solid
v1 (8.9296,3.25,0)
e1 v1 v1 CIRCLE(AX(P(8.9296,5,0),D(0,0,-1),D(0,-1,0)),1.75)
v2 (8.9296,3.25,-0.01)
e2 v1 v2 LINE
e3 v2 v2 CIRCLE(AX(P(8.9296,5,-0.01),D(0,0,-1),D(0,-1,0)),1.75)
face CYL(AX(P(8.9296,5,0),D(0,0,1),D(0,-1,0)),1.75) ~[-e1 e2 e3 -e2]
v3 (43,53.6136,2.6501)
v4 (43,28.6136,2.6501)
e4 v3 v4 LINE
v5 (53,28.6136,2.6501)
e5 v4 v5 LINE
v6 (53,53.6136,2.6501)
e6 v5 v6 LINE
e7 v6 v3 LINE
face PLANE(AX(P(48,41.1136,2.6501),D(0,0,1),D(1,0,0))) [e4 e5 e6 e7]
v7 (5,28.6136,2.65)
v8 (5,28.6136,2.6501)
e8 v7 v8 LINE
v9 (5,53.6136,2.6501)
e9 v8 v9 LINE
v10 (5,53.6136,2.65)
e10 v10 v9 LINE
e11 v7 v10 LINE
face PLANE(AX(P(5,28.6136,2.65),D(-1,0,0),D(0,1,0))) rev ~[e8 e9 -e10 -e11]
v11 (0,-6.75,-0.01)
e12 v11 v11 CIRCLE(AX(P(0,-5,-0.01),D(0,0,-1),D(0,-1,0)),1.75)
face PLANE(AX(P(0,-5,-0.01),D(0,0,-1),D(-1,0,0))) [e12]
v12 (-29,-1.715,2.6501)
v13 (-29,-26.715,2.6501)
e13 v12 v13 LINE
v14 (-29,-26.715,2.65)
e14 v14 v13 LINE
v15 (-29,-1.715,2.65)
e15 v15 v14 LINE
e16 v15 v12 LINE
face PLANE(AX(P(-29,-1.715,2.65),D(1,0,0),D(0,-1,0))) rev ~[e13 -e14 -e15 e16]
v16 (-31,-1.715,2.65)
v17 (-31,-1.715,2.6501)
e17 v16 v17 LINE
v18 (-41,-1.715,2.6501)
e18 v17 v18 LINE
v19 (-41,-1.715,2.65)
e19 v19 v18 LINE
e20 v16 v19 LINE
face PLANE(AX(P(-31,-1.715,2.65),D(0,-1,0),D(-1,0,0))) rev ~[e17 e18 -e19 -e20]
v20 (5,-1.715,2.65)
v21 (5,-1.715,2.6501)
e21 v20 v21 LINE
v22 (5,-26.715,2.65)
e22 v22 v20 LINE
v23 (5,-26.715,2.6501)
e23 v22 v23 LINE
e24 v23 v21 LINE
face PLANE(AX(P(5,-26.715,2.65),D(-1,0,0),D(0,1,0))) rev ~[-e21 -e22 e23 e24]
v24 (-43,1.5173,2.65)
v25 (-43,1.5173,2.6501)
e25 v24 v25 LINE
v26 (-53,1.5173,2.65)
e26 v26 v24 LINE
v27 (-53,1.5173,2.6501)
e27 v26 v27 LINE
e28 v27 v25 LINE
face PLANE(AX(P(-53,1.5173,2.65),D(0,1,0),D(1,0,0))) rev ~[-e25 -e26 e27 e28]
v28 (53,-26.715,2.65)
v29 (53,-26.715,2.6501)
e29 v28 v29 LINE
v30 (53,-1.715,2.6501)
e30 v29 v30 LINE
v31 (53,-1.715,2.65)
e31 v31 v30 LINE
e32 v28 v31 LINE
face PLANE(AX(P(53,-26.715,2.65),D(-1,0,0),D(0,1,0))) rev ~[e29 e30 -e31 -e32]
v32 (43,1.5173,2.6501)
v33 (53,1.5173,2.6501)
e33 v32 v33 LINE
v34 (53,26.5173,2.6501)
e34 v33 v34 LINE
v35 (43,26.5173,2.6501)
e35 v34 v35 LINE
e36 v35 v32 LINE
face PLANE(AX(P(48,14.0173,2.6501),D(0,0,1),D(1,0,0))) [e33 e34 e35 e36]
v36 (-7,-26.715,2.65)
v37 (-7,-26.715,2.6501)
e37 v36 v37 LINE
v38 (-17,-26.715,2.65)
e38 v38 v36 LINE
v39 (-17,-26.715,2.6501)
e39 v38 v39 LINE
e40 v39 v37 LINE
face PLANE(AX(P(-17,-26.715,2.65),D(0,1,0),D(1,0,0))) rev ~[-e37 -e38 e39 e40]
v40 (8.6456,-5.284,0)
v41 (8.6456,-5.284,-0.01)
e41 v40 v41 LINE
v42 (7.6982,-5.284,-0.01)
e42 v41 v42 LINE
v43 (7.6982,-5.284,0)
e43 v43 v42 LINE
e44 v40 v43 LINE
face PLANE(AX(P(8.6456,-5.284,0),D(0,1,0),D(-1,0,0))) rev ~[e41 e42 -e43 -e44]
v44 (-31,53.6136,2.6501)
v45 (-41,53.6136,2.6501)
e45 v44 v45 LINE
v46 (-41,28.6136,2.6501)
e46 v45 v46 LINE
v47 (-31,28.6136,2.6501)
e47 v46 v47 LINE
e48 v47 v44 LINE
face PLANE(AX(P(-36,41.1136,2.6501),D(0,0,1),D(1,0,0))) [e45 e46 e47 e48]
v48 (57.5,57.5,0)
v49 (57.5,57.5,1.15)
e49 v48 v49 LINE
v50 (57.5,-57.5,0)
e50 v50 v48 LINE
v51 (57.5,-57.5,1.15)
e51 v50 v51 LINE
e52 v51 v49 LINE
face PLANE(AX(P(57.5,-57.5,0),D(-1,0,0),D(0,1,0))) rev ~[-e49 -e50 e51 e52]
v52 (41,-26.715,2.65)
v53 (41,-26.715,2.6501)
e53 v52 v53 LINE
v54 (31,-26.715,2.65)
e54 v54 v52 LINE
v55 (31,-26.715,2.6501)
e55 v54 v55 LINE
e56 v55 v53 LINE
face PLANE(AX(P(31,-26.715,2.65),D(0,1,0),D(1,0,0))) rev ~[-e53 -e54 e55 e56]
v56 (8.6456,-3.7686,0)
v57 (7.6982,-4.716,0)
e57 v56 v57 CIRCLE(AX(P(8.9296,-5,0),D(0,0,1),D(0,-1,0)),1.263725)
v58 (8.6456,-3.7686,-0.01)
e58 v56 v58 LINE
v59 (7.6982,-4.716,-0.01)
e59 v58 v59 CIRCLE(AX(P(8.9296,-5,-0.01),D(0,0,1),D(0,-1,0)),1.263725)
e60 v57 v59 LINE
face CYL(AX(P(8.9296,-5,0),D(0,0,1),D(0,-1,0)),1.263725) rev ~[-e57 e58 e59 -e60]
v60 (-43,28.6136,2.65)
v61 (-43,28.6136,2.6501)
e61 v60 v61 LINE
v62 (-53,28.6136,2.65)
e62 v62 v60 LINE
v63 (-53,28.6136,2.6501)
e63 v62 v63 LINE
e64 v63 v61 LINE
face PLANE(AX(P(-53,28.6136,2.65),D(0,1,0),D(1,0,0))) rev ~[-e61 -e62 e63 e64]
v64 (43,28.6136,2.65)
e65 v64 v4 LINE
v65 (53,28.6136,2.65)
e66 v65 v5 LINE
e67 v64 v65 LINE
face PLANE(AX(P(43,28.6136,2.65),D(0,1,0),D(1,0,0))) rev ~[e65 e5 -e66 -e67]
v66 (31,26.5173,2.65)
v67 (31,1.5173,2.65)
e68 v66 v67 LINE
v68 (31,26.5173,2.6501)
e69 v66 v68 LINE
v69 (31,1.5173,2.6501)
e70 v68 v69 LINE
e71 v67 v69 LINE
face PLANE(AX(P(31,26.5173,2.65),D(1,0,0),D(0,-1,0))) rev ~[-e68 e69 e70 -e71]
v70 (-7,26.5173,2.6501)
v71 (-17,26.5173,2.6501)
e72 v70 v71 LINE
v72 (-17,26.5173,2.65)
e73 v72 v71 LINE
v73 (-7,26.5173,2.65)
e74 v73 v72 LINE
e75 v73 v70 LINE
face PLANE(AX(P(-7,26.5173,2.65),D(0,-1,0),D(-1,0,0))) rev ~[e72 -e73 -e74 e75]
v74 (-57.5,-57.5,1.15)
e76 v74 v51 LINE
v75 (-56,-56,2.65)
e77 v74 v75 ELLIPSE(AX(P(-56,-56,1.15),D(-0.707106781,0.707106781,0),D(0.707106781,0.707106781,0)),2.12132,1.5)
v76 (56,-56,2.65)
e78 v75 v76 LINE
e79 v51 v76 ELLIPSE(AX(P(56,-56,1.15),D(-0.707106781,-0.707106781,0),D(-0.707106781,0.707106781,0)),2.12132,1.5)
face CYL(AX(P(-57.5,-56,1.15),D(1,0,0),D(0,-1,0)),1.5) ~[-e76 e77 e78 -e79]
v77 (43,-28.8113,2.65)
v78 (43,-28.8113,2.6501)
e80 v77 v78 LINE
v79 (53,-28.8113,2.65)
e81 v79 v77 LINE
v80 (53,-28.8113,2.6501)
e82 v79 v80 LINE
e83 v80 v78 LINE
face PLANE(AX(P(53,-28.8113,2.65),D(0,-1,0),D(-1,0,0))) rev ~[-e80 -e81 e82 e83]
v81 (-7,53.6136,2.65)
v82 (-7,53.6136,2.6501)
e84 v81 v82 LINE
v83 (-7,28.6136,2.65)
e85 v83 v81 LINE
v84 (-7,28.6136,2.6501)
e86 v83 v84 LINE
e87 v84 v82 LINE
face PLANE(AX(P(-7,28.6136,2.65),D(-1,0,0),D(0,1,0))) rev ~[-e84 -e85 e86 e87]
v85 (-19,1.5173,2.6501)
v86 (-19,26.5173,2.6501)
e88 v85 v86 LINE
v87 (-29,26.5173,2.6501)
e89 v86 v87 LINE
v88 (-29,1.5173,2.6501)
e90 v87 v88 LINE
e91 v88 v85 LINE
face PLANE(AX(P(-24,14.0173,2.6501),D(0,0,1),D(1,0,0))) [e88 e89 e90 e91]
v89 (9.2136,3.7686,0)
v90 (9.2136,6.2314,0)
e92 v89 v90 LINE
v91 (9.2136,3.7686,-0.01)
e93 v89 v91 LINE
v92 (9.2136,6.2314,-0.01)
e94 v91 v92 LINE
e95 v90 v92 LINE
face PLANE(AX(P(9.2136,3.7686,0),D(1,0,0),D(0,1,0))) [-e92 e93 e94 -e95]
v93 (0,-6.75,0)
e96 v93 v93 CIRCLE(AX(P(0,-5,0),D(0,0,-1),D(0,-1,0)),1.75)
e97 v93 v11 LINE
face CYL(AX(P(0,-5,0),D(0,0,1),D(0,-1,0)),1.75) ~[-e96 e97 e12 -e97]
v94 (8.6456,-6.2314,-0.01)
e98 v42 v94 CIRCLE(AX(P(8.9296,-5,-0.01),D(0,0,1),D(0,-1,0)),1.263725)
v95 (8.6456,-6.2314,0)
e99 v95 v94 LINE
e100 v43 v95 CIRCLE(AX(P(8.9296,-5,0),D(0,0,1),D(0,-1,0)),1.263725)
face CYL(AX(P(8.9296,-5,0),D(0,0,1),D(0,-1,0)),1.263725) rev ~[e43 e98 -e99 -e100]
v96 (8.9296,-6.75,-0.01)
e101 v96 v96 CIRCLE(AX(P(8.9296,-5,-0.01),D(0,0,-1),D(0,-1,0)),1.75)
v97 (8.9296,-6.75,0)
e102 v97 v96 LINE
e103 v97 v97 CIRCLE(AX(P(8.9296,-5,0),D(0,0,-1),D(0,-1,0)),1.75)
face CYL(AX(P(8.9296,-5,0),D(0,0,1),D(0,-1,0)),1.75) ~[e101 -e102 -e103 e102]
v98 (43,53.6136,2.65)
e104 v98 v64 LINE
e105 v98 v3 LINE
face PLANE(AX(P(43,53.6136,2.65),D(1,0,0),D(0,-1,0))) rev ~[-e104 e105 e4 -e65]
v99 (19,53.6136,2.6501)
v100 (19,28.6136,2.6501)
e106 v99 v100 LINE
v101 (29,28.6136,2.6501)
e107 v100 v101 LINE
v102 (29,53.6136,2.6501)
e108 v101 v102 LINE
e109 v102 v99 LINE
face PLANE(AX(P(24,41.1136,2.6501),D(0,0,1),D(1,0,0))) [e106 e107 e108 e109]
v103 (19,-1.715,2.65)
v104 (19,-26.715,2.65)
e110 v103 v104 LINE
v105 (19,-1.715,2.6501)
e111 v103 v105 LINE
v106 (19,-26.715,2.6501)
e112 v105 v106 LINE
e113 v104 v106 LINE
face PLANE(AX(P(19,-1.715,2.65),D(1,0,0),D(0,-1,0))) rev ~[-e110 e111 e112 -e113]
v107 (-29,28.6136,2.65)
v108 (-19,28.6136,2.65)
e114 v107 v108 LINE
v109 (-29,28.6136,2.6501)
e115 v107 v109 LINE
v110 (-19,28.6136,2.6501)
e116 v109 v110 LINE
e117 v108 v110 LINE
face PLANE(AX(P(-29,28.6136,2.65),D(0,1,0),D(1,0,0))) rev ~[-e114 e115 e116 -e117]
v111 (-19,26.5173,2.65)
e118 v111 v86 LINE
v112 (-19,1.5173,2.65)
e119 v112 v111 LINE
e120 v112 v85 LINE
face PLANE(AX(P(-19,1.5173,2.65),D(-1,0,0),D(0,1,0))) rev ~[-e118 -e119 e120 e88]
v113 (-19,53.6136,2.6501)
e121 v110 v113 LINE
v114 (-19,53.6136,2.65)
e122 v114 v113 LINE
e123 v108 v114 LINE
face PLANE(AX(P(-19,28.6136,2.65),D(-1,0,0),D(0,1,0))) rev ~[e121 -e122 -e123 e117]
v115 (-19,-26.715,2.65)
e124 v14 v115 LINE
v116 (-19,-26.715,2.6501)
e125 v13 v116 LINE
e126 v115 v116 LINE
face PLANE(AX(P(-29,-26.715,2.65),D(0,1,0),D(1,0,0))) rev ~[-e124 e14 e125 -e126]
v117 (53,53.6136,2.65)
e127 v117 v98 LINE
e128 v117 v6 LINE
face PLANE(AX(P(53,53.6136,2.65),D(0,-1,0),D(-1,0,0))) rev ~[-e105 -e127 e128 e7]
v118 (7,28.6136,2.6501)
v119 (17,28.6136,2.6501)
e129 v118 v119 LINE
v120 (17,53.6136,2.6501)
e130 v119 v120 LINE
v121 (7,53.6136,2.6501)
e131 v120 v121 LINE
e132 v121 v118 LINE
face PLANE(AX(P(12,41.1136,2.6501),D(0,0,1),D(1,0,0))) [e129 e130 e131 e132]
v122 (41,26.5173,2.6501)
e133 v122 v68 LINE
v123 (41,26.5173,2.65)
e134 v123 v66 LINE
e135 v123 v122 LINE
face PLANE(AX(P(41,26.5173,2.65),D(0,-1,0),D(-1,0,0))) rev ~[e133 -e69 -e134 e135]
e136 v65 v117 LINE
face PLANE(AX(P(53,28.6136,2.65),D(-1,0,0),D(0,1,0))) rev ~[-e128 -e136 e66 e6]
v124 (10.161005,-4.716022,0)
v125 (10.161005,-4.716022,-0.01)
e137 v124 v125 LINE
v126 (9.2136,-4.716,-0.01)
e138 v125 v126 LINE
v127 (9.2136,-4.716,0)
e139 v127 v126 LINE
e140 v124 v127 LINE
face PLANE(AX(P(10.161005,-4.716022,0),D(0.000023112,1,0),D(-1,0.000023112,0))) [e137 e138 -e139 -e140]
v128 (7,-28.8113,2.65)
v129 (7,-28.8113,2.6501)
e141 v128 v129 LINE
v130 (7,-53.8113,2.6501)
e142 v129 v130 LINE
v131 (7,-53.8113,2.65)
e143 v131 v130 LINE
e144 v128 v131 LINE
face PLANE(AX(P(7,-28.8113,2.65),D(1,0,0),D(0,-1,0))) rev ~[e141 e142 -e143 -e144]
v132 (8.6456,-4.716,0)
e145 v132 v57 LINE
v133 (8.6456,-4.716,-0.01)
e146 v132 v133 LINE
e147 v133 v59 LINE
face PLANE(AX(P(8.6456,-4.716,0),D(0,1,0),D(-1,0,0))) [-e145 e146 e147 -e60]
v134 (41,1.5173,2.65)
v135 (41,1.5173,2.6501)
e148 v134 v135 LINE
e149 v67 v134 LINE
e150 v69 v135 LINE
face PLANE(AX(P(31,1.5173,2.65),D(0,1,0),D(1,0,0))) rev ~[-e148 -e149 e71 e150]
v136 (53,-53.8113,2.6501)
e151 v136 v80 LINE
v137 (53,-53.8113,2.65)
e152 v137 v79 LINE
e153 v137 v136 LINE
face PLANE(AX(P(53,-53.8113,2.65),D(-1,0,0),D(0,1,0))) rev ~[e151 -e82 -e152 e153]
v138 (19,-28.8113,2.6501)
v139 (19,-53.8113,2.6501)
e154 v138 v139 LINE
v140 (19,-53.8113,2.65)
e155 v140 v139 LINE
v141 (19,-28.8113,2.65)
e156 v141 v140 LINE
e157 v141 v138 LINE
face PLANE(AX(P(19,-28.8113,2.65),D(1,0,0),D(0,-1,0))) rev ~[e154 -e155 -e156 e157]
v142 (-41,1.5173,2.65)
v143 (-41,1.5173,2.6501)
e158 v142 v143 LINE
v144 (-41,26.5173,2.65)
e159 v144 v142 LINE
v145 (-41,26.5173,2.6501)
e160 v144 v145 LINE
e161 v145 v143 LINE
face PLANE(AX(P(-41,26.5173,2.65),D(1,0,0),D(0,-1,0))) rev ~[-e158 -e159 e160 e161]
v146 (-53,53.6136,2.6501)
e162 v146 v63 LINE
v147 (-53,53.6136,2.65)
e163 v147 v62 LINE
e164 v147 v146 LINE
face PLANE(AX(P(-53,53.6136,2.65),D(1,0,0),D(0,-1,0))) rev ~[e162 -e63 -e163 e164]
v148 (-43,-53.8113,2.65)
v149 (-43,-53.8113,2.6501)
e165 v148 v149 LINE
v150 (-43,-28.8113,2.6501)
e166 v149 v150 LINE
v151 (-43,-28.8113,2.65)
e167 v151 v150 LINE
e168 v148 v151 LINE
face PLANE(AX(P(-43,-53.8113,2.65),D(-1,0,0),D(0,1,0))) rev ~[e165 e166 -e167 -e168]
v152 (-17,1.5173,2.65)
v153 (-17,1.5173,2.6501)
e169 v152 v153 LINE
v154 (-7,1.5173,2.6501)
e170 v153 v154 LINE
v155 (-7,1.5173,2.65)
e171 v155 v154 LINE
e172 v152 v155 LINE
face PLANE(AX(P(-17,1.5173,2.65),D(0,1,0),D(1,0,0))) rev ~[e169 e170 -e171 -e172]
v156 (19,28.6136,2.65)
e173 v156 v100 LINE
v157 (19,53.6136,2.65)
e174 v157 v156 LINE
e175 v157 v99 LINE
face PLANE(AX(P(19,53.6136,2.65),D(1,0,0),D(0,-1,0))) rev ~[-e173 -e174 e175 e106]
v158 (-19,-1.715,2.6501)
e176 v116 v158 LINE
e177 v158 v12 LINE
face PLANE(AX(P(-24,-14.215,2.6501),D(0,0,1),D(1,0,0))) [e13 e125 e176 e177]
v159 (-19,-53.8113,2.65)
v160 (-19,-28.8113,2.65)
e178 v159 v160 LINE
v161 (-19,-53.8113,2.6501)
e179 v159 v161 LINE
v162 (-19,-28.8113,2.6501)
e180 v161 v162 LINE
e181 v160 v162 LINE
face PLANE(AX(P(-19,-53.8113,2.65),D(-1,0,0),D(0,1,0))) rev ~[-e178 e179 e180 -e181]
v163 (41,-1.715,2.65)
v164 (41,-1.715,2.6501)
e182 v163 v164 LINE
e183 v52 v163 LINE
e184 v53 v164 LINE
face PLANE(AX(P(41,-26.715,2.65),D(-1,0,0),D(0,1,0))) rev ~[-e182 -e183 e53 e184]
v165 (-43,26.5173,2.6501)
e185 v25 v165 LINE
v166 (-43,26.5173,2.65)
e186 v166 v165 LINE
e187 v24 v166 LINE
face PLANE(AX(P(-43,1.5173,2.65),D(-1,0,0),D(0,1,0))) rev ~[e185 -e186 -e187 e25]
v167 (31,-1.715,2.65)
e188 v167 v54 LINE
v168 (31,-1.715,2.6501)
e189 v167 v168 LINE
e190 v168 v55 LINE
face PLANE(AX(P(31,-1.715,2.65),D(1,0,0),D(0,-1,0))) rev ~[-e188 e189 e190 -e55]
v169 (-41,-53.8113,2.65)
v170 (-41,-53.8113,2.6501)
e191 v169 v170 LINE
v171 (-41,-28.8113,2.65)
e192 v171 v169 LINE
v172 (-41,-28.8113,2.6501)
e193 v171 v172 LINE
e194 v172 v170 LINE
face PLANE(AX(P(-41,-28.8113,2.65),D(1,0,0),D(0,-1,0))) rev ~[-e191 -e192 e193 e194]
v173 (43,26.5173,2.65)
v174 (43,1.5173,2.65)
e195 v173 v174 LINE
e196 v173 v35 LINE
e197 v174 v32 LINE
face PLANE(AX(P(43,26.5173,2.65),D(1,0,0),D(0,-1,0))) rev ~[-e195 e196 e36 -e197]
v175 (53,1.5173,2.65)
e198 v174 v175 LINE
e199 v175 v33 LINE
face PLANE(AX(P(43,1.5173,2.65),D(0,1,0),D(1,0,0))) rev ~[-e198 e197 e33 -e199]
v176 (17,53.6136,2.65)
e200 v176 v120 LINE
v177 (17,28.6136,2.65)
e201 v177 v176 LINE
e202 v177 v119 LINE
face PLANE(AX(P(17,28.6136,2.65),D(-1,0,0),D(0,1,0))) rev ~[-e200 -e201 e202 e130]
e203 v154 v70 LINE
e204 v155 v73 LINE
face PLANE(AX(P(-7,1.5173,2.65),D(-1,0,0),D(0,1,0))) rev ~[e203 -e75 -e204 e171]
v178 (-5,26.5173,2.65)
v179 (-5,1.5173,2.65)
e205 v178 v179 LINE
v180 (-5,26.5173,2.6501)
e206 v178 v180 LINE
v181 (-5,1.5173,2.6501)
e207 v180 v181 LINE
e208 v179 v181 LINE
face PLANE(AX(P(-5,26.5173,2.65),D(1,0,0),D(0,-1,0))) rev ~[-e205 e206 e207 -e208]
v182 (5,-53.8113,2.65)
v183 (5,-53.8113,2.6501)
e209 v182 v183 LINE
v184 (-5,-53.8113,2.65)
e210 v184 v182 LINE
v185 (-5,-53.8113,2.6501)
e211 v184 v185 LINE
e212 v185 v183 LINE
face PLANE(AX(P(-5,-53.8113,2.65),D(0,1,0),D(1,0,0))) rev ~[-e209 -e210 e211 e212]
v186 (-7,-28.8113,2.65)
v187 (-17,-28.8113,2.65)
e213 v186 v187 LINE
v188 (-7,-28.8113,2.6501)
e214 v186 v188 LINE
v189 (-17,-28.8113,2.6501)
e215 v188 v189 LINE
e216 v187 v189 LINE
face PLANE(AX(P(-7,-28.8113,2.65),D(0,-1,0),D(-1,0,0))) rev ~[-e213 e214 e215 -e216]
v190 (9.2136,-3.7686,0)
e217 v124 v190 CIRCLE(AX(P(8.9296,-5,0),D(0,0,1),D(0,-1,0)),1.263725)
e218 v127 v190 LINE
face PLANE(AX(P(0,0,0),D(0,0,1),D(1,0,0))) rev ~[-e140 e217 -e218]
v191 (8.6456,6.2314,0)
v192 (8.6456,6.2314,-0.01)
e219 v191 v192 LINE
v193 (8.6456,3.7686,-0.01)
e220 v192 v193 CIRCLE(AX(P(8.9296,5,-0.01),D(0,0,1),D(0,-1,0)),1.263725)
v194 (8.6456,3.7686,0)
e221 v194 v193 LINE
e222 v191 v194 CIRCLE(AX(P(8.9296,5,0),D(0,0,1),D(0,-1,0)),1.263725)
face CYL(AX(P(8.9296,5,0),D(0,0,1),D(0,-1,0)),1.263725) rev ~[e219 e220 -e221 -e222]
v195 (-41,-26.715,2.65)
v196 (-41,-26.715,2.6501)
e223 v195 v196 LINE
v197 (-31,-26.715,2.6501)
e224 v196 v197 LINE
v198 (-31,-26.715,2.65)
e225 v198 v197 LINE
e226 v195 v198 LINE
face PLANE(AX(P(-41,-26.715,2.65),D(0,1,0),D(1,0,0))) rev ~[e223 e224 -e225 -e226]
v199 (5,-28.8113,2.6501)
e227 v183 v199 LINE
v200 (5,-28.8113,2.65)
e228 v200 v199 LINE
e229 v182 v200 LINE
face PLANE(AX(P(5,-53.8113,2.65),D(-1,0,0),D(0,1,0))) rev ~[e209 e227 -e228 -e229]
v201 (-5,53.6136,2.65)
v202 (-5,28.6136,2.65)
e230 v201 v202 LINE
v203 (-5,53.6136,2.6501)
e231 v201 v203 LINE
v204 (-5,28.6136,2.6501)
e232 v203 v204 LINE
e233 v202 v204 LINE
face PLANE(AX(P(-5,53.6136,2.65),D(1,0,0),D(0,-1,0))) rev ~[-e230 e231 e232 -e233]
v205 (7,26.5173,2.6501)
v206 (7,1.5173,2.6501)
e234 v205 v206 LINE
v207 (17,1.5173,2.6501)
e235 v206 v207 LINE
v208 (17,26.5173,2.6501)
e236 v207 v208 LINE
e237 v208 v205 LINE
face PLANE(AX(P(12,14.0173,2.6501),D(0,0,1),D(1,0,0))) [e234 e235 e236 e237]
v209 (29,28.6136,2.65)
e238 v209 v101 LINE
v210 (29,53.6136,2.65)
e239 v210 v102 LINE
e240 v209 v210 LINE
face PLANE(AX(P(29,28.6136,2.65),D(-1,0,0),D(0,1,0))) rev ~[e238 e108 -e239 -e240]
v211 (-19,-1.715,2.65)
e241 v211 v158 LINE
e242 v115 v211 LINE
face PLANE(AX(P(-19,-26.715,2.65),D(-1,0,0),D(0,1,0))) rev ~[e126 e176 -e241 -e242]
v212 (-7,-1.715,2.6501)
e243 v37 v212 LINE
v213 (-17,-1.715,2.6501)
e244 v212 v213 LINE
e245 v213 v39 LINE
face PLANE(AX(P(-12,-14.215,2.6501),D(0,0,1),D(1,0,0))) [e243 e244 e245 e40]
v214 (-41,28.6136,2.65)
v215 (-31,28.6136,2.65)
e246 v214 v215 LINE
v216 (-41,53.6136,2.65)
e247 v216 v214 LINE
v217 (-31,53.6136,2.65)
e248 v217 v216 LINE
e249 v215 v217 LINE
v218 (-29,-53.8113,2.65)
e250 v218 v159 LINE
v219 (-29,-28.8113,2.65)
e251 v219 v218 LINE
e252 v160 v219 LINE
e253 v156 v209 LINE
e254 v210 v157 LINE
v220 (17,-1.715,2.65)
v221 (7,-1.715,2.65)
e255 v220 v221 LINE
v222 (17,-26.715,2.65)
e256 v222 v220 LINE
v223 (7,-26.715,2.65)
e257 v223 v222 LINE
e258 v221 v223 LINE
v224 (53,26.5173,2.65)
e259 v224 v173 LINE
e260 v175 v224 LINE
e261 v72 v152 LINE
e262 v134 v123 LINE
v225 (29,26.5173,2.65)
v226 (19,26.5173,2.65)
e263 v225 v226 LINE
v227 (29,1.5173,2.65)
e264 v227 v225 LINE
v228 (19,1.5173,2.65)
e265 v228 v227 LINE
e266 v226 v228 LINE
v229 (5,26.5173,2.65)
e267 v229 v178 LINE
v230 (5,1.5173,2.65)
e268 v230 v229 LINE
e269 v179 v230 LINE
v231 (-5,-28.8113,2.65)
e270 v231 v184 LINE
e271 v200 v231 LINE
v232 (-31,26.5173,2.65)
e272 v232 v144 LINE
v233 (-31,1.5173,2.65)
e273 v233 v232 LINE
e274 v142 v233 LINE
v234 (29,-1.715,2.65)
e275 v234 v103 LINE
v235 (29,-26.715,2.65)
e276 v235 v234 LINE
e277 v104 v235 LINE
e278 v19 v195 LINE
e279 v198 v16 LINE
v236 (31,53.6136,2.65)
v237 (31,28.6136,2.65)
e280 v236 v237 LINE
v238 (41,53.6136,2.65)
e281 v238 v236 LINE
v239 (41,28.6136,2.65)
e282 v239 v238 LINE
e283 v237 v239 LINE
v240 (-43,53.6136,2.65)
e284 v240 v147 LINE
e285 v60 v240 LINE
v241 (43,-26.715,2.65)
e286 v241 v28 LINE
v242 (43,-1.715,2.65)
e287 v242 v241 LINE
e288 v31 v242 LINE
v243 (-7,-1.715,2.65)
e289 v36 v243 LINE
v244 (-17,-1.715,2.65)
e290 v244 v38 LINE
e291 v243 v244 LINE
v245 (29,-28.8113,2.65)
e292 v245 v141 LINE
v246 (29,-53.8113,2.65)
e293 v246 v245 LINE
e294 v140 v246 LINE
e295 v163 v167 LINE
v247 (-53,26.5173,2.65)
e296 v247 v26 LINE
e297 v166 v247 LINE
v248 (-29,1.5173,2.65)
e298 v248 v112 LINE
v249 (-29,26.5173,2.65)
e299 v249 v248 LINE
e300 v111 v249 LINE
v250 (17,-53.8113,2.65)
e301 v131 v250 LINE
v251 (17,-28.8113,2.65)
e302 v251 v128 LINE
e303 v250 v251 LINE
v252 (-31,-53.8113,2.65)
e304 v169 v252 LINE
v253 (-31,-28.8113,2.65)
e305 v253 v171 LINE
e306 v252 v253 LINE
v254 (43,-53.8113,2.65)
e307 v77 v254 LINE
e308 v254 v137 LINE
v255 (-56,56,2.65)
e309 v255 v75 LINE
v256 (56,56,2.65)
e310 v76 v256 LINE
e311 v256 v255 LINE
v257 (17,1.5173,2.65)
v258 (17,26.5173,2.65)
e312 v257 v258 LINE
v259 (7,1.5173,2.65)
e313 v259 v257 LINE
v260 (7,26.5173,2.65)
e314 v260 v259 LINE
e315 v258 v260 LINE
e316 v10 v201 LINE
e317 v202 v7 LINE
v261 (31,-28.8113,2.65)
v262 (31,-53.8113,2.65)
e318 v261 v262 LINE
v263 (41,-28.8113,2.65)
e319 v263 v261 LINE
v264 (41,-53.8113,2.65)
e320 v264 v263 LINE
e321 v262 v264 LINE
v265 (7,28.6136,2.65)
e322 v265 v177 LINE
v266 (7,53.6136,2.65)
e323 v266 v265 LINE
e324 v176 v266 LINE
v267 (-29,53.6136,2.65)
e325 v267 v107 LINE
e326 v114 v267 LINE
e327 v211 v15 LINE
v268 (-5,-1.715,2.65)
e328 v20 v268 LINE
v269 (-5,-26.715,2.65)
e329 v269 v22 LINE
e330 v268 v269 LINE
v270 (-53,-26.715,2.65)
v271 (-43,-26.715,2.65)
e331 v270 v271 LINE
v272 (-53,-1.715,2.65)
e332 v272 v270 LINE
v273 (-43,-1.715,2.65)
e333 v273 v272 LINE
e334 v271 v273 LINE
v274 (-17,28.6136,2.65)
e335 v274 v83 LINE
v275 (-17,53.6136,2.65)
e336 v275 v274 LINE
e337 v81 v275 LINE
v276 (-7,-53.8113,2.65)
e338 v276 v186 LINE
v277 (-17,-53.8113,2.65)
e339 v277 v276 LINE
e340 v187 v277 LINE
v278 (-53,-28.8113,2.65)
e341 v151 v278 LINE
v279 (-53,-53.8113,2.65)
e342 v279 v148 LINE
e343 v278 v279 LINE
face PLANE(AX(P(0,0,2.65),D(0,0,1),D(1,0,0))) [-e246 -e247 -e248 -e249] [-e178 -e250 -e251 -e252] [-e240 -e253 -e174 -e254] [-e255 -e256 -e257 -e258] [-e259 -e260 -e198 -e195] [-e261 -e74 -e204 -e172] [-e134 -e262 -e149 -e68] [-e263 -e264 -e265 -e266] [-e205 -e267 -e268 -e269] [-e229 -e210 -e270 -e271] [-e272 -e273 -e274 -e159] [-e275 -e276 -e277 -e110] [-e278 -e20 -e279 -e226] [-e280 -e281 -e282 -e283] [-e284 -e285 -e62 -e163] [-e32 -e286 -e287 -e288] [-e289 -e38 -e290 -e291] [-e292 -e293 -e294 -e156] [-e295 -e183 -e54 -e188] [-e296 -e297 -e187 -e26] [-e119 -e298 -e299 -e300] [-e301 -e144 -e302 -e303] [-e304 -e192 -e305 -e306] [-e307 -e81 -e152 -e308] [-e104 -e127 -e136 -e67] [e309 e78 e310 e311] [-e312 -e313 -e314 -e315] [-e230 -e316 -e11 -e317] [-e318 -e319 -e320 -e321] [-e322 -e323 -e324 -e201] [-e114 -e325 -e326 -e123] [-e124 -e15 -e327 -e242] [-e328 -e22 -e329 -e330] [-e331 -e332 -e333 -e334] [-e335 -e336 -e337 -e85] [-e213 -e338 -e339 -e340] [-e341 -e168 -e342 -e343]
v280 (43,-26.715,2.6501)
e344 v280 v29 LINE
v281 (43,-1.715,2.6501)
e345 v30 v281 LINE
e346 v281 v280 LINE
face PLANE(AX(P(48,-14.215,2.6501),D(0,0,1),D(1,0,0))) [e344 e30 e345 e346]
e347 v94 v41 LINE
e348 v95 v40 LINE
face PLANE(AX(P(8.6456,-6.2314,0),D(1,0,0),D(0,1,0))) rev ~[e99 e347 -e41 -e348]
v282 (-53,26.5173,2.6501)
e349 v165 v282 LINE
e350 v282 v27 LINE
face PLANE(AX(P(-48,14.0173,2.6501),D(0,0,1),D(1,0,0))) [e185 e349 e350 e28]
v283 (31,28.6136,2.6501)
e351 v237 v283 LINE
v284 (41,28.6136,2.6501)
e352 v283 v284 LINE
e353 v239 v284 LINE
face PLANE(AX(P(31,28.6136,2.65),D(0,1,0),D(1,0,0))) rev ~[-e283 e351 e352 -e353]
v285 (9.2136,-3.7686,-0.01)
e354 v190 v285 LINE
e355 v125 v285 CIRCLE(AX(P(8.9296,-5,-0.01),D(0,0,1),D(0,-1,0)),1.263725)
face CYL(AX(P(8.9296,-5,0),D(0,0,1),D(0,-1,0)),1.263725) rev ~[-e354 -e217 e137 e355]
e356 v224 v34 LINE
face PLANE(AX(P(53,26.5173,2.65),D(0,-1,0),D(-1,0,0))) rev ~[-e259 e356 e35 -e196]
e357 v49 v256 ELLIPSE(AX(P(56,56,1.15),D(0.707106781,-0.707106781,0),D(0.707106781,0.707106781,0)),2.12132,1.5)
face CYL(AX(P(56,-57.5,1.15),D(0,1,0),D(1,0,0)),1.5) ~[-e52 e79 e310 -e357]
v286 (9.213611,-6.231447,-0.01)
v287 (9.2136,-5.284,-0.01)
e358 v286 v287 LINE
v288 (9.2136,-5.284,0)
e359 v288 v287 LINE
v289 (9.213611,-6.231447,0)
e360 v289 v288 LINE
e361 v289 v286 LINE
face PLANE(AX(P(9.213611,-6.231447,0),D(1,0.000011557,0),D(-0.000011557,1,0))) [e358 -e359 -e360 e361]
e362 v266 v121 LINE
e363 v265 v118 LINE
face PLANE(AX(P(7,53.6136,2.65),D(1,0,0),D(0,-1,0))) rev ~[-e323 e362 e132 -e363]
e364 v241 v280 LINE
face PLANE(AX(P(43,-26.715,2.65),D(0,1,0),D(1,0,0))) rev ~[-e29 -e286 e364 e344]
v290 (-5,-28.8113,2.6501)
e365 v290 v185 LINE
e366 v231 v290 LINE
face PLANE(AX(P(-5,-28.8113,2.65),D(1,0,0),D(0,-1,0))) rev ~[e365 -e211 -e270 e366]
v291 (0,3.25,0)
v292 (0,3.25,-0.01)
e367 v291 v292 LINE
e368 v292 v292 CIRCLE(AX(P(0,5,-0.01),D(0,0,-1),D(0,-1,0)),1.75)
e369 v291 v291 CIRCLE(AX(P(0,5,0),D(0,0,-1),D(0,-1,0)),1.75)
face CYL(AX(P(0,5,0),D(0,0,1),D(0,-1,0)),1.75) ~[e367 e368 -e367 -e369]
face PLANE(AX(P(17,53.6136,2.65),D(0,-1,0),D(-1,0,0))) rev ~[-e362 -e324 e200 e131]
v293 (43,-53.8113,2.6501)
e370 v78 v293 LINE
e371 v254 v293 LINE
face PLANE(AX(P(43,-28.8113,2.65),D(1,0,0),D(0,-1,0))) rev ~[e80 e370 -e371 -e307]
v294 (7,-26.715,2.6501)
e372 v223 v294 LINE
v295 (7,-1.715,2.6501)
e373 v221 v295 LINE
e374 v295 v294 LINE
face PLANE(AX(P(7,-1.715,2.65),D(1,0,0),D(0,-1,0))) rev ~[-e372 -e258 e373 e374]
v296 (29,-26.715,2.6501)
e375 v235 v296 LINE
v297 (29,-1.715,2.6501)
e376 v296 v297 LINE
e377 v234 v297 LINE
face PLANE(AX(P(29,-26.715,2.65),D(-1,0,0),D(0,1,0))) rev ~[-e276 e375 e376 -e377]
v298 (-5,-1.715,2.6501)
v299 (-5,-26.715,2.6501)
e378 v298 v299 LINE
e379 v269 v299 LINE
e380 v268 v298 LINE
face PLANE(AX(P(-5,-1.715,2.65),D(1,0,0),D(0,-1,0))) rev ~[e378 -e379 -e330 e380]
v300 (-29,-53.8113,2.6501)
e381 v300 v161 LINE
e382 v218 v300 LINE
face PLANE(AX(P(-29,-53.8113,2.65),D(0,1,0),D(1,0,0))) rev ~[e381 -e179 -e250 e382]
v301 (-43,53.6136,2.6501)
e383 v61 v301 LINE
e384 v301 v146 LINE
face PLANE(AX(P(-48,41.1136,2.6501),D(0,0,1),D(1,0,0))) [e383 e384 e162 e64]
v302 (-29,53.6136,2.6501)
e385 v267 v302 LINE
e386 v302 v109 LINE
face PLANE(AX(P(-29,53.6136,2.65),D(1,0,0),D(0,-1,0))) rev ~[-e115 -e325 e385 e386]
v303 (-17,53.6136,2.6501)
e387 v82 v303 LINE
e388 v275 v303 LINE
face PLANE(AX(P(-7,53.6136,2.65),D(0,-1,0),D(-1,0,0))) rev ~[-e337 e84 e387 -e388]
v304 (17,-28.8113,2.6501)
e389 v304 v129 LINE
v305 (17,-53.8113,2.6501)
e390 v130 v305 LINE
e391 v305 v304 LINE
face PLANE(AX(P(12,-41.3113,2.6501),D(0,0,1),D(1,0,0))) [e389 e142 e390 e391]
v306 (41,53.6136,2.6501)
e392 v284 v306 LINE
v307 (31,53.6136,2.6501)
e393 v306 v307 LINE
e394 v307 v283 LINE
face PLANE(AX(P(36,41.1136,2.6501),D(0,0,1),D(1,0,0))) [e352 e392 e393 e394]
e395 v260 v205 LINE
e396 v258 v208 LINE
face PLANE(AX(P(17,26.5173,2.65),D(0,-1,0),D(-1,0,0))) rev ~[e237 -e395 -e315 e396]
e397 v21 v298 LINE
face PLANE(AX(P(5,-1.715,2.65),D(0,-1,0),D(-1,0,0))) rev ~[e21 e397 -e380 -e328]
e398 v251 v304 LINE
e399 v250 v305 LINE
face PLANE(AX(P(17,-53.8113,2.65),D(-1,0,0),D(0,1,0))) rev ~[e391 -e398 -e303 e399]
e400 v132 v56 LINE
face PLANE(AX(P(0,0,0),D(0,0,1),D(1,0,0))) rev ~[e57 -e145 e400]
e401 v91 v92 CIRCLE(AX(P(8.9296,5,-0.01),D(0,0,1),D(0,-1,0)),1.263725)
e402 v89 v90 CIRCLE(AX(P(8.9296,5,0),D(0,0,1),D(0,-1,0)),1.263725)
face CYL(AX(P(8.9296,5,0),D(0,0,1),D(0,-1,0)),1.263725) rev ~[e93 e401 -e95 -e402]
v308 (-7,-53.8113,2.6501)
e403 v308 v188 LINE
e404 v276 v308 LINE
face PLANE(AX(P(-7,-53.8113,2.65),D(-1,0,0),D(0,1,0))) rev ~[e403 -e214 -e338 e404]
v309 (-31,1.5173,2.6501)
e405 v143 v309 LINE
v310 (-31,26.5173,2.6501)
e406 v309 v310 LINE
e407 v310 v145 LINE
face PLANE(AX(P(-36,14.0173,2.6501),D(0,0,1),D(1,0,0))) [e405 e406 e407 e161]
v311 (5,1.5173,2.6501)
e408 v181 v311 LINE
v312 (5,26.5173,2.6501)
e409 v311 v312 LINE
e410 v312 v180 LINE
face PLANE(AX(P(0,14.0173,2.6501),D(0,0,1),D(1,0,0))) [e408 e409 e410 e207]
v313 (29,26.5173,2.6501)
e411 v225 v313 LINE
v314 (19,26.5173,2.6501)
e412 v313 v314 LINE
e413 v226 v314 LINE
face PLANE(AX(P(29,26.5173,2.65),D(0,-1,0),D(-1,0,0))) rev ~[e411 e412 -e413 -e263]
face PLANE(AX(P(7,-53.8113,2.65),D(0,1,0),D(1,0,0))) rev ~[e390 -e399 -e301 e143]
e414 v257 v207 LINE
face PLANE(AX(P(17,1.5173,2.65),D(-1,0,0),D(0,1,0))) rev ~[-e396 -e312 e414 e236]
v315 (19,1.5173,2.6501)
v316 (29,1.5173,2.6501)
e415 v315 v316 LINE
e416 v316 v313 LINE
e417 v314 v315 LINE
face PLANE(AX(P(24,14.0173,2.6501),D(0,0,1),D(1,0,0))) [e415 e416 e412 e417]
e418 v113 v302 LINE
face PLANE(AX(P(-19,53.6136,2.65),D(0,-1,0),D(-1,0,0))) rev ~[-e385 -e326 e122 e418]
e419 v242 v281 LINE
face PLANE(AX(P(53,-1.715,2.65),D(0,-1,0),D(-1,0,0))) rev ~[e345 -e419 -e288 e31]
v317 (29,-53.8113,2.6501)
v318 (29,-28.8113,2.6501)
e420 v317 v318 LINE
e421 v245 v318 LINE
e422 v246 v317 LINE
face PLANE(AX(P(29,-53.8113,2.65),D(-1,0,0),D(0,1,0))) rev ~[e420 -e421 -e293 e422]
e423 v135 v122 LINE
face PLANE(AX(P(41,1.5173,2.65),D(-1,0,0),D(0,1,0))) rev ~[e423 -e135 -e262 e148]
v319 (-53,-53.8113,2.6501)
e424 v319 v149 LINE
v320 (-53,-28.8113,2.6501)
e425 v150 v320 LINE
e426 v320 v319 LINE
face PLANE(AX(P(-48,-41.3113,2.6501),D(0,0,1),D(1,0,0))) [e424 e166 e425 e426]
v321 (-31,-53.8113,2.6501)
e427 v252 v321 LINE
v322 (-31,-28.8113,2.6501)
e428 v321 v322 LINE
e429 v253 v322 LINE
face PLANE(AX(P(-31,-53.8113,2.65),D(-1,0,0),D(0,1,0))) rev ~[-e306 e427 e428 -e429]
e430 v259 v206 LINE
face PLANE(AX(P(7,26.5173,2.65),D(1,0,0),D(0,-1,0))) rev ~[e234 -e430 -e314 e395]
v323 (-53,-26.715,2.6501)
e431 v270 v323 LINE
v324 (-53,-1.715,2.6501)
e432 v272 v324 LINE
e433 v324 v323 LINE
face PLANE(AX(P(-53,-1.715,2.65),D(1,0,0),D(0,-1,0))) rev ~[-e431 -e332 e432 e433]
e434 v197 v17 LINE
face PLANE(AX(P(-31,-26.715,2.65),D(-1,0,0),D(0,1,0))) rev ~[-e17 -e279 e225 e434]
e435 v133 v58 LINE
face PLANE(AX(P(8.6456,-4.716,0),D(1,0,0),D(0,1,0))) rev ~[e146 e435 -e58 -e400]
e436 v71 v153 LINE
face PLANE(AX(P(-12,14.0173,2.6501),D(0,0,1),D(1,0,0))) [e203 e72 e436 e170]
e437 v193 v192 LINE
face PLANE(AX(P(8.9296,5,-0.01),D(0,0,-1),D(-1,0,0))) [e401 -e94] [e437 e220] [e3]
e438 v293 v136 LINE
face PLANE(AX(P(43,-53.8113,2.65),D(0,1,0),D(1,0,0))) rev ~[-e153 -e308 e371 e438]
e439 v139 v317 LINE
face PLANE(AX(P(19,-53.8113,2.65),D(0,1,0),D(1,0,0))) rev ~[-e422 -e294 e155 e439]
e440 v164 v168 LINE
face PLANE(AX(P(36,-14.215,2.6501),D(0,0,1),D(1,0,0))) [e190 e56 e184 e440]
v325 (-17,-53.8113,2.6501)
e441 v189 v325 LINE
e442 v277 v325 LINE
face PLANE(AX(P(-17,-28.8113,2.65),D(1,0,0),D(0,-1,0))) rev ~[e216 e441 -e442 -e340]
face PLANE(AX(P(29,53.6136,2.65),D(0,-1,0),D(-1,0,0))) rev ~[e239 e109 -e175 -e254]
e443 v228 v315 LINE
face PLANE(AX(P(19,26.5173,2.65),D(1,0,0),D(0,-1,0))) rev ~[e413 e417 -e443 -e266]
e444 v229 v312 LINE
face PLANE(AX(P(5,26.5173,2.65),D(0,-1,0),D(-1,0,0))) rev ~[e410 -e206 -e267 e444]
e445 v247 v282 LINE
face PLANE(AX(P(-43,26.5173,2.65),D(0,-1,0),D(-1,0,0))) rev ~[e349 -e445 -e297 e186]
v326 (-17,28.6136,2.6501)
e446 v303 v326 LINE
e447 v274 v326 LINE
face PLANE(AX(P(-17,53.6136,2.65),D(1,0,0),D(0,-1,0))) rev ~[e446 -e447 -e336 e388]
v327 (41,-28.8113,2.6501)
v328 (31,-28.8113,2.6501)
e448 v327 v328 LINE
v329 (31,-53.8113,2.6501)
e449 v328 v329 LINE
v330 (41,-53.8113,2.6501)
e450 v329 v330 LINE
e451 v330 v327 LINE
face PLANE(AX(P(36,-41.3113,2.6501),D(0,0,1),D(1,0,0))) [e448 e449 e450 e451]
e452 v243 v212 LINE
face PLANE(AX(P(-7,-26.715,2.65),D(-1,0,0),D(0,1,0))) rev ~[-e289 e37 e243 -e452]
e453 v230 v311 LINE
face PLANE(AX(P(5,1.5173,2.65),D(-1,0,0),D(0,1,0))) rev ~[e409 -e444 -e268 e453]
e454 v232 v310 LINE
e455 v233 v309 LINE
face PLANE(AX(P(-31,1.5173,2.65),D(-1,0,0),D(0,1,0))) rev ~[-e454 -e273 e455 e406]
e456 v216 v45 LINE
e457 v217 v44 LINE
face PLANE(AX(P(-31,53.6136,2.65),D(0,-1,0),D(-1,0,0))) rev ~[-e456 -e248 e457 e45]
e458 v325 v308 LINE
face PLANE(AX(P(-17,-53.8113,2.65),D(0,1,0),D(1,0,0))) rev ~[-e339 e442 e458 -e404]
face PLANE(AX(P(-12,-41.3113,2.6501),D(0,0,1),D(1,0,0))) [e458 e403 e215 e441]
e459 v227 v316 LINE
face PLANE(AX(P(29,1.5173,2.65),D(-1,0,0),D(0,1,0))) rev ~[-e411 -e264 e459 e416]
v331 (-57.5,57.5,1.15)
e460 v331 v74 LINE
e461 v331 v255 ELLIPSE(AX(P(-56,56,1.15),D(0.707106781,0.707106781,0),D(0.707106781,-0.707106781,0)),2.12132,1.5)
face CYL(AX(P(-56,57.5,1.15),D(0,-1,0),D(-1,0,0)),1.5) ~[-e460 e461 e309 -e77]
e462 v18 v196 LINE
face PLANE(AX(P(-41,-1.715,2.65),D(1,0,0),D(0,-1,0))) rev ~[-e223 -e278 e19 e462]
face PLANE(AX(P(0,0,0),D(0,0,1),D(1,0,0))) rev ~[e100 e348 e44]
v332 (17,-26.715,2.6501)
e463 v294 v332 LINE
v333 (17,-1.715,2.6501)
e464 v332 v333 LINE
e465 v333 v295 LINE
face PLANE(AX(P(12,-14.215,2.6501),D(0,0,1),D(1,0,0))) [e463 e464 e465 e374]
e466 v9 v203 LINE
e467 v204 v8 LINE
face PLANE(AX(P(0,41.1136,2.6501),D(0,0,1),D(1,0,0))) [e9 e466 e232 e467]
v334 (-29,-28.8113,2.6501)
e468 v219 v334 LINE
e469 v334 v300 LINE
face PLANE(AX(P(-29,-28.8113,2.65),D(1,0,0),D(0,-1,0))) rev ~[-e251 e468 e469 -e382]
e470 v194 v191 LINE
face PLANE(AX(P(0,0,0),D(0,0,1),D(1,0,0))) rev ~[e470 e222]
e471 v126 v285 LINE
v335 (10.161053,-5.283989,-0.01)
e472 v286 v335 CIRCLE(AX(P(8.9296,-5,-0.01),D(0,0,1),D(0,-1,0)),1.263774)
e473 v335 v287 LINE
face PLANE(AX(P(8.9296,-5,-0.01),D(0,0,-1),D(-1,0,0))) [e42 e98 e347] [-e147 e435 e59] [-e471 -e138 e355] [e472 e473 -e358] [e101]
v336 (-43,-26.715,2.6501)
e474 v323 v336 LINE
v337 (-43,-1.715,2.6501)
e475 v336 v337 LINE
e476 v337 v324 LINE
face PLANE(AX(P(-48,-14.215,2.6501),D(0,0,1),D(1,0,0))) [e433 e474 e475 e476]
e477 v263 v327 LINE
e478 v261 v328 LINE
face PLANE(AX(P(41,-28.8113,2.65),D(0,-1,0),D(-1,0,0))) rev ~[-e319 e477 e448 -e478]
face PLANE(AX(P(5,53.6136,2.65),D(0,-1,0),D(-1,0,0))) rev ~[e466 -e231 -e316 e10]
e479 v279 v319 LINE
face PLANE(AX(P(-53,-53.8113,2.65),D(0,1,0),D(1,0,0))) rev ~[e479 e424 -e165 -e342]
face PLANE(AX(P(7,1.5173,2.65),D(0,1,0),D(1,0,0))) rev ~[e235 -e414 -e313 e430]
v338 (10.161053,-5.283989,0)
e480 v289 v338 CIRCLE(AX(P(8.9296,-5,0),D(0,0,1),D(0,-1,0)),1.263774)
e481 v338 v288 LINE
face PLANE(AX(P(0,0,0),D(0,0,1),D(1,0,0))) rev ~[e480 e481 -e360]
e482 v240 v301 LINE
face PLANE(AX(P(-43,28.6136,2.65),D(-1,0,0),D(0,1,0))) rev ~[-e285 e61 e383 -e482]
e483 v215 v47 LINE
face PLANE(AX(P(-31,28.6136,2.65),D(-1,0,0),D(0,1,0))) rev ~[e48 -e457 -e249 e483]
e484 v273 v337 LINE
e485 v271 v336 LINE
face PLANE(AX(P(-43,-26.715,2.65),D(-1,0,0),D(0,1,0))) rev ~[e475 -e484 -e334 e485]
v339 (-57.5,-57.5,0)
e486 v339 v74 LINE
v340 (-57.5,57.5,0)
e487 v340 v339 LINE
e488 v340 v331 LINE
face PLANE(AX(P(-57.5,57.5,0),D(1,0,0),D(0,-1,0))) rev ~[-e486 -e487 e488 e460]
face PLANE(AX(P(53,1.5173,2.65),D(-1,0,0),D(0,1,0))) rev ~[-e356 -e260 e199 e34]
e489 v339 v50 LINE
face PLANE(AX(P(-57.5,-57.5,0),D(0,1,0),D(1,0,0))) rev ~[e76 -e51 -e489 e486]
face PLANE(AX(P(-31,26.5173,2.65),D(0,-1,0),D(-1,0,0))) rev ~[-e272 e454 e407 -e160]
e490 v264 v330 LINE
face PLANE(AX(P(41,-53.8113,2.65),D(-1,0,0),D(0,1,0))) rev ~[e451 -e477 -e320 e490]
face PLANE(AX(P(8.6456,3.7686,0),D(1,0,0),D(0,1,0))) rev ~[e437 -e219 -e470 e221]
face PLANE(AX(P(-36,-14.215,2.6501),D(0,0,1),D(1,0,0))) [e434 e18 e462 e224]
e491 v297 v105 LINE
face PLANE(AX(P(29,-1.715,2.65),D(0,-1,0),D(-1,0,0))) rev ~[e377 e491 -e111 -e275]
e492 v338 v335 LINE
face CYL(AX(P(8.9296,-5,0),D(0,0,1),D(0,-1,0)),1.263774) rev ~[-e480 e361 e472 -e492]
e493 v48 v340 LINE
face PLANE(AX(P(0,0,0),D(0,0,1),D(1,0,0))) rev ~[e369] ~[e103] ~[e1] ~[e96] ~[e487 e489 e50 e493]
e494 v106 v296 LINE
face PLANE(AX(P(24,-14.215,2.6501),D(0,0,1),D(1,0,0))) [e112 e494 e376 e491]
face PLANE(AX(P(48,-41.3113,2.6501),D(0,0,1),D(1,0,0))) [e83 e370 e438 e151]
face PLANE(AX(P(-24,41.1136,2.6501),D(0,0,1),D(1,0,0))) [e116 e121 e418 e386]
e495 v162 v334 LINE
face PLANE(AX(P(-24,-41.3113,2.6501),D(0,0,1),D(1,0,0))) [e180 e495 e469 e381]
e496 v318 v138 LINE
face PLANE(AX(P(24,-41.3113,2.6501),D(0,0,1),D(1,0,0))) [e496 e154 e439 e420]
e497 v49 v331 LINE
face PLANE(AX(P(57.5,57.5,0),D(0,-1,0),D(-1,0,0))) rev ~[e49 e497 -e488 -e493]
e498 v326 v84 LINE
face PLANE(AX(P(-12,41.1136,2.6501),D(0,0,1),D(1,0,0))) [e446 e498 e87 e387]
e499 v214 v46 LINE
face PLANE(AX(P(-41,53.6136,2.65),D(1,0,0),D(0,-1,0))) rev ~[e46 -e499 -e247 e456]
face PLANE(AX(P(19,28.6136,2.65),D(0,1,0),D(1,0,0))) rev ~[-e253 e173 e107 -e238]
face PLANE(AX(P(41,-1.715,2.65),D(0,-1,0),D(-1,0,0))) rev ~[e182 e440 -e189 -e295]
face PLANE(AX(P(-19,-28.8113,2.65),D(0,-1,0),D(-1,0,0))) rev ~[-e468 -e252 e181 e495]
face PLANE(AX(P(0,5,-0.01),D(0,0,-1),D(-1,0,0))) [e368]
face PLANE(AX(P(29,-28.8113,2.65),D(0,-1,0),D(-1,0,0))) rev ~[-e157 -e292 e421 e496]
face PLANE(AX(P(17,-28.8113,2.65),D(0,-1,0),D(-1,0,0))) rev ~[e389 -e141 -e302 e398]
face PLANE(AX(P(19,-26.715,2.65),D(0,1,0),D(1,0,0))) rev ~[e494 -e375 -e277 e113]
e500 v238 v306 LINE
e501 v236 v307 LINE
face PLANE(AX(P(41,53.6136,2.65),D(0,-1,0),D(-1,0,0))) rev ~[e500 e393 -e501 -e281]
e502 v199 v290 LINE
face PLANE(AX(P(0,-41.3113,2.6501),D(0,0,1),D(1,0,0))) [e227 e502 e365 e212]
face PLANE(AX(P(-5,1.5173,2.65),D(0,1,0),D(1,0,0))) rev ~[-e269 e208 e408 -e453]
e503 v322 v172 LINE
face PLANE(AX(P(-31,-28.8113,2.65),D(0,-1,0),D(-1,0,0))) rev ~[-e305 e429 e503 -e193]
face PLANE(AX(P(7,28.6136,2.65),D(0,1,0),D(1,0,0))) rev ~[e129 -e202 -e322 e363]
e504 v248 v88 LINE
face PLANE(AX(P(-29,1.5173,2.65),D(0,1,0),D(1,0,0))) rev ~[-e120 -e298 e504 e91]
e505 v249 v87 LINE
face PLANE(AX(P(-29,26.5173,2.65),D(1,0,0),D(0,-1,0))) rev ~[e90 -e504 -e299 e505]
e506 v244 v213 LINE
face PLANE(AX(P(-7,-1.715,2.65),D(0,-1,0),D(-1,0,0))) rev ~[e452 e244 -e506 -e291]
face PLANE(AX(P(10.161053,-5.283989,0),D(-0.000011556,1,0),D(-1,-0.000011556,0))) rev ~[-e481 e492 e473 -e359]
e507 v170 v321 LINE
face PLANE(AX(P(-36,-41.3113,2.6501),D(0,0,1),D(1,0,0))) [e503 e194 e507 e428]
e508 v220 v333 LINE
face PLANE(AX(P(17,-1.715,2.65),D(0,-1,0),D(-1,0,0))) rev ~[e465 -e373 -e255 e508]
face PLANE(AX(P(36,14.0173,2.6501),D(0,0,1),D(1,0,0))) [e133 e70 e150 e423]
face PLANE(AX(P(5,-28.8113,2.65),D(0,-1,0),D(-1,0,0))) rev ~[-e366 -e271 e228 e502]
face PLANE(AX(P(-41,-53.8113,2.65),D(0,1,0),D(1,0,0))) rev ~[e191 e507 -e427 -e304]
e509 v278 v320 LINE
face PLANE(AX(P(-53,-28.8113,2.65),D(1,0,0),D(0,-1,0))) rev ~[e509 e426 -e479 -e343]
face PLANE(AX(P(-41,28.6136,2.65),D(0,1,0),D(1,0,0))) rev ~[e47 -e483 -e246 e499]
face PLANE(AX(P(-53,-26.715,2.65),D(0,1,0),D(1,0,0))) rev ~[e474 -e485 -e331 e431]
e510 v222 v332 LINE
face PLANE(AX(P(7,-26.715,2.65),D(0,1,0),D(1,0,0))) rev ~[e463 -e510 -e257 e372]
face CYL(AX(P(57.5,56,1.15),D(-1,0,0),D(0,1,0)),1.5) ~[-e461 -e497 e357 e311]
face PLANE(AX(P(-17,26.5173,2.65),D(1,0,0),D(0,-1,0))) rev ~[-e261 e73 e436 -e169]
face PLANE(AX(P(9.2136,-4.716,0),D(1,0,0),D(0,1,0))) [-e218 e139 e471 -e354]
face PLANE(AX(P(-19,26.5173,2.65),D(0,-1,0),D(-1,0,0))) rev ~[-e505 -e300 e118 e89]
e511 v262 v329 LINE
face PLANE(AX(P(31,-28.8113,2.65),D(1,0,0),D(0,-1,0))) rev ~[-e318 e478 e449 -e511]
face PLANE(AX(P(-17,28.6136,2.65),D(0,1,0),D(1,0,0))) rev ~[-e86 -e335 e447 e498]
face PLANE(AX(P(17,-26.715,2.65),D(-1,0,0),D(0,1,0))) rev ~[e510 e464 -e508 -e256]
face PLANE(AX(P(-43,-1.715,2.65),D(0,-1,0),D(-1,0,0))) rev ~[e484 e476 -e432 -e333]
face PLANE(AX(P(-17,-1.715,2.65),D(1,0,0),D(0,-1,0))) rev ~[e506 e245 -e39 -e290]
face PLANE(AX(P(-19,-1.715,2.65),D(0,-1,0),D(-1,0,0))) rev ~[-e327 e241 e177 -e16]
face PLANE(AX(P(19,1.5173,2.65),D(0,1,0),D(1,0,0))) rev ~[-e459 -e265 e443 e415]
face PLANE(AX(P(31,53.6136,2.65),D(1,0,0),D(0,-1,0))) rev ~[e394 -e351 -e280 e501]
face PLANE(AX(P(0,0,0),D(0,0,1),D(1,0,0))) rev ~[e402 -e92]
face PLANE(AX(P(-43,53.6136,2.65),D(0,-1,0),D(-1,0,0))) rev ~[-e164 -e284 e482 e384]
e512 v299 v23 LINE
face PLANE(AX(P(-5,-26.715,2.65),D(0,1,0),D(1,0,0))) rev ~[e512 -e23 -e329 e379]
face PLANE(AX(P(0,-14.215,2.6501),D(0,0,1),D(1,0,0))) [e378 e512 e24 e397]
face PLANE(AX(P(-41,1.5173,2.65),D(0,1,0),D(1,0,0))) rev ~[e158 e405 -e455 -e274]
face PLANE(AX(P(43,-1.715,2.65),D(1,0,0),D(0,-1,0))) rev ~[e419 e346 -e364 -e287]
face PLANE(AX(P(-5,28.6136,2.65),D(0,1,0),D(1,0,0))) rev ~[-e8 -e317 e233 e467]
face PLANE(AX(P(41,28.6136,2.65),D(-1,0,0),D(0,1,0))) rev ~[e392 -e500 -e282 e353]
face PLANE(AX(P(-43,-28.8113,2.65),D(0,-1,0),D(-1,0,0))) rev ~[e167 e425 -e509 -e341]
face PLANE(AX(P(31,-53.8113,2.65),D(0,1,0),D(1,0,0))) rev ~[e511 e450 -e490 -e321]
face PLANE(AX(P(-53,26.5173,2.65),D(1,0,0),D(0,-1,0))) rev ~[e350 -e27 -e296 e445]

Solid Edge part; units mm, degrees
sketch "Sketch1" plane through (0, 0, 0) normal (0, 0, 1) x (1, 0, 0)
  line L0 (-57.5, -57.5) -> (57.5, -57.5)
  line L1 (57.5, -57.5) -> (57.5, 57.5)
  line L2 (57.5, 57.5) -> (-57.5, 57.5)
  line L3 (-57.5, 57.5) -> (-57.5, -57.5)
extrude "Protrusion1" add sketch "Sketch1" along normal blind 2.65
fillet "Zaokrąglenie_1" radius 1.5 4 edges at (57.5, 0, 2.65) (0, -57.5, 2.65) (-57.5, 0, 2.65) (0, 57.5, 2.65)
sketch "Sketch2" plane through (0, 0, 2.65) normal (0, 0, 1) x (1, 0, 0)
  line L0 (31, 26.5173) -> (31, 1.5173)
  line L1 (31, 1.5173) -> (41, 1.5173)
  line L2 (41, 1.5173) -> (41, 26.5173)
  line L3 (41, 26.5173) -> (31, 26.5173)
  line L4 (29, 1.5173) -> (29, 26.5173)
  line L5 (29, 26.5173) -> (19, 26.5173)
  line L6 (19, 26.5173) -> (19, 1.5173)
  line L7 (19, 1.5173) -> (29, 1.5173)
  line L8 (17, 28.6136) -> (17, 53.6136)
  line L9 (17, 53.6136) -> (7, 53.6136)
  line L10 (7, 53.6136) -> (7, 28.6136)
  line L11 (7, 28.6136) -> (17, 28.6136)
  line L12 (31, 53.6136) -> (31, 28.6136)
  line L13 (31, 28.6136) -> (41, 28.6136)
  line L14 (41, 28.6136) -> (41, 53.6136)
  line L15 (41, 53.6136) -> (31, 53.6136)
  line L16 (29, 28.6136) -> (29, 53.6136)
  line L17 (29, 53.6136) -> (19, 53.6136)
  line L18 (19, 53.6136) -> (19, 28.6136)
  line L19 (19, 28.6136) -> (29, 28.6136)
  line L20 (53, 28.6136) -> (53, 53.6136)
  line L21 (53, 53.6136) -> (43, 53.6136)
  line L22 (43, 53.6136) -> (43, 28.6136)
  line L23 (43, 28.6136) -> (53, 28.6136)
  line L24 (53, 1.5173) -> (53, 26.5173)
  line L25 (53, 26.5173) -> (43, 26.5173)
  line L26 (43, 26.5173) -> (43, 1.5173)
  line L27 (43, 1.5173) -> (53, 1.5173)
  line L28 (53, -26.715) -> (53, -1.715)
  line L29 (53, -1.715) -> (43, -1.715)
  line L30 (43, -1.715) -> (43, -26.715)
  line L31 (43, -26.715) -> (53, -26.715)
  line L32 (41, -26.715) -> (41, -1.715)
  line L33 (41, -1.715) -> (31, -1.715)
  line L34 (31, -1.715) -> (31, -26.715)
  line L35 (31, -26.715) -> (41, -26.715)
  line L36 (29, -26.715) -> (29, -1.715)
  line L37 (29, -1.715) -> (19, -1.715)
  line L38 (19, -1.715) -> (19, -26.715)
  line L39 (19, -26.715) -> (29, -26.715)
  line L40 (17, -26.715) -> (17, -1.715)
  line L41 (17, -1.715) -> (7, -1.715)
  line L42 (7, -1.715) -> (7, -26.715)
  line L43 (7, -26.715) -> (17, -26.715)
  line L44 (17, -53.8113) -> (17, -28.8113)
  line L45 (17, -28.8113) -> (7, -28.8113)
  line L46 (7, -28.8113) -> (7, -53.8113)
  line L47 (7, -53.8113) -> (17, -53.8113)
  line L48 (29, -53.8113) -> (29, -28.8113)
  line L49 (29, -28.8113) -> (19, -28.8113)
  line L50 (19, -28.8113) -> (19, -53.8113)
  line L51 (19, -53.8113) -> (29, -53.8113)
  line L52 (41, -53.8113) -> (41, -28.8113)
  line L53 (41, -28.8113) -> (31, -28.8113)
  line L54 (31, -28.8113) -> (31, -53.8113)
  line L55 (31, -53.8113) -> (41, -53.8113)
  line L56 (53, -53.8113) -> (53, -28.8113)
  line L57 (53, -28.8113) -> (43, -28.8113)
  line L58 (43, -28.8113) -> (43, -53.8113)
  line L59 (43, -53.8113) -> (53, -53.8113)
  line L60 (5, -53.8113) -> (5, -28.8113)
  line L61 (5, -28.8113) -> (-5, -28.8113)
  line L62 (-5, -28.8113) -> (-5, -53.8113)
  line L63 (-5, -53.8113) -> (5, -53.8113)
  line L64 (-7, -53.8113) -> (-7, -28.8113)
  line L65 (-7, -28.8113) -> (-17, -28.8113)
  line L66 (-17, -28.8113) -> (-17, -53.8113)
  line L67 (-17, -53.8113) -> (-7, -53.8113)
  line L68 (-19, -53.8113) -> (-19, -28.8113)
  line L69 (-19, -28.8113) -> (-29, -28.8113)
  line L70 (-29, -28.8113) -> (-29, -53.8113)
  line L71 (-29, -53.8113) -> (-19, -53.8113)
  line L72 (-31, -53.8113) -> (-31, -28.8113)
  line L73 (-31, -28.8113) -> (-41, -28.8113)
  line L74 (-41, -28.8113) -> (-41, -53.8113)
  line L75 (-41, -53.8113) -> (-31, -53.8113)
  line L76 (-43, -53.8113) -> (-43, -28.8113)
  line L77 (-43, -28.8113) -> (-53, -28.8113)
  line L78 (-53, -28.8113) -> (-53, -53.8113)
  line L79 (-53, -53.8113) -> (-43, -53.8113)
  line L80 (-43, -26.715) -> (-43, -1.715)
  line L81 (-43, -1.715) -> (-53, -1.715)
  line L82 (-53, -1.715) -> (-53, -26.715)
  line L83 (-53, -26.715) -> (-43, -26.715)
  line L84 (-41, -1.715) -> (-41, -26.715)
  line L85 (-41, -26.715) -> (-31, -26.715)
  line L86 (-31, -26.715) -> (-31, -1.715)
  line L87 (-31, -1.715) -> (-41, -1.715)
  line L88 (-19, -26.715) -> (-19, -1.715)
  line L89 (-19, -1.715) -> (-29, -1.715)
  line L90 (-29, -1.715) -> (-29, -26.715)
  line L91 (-29, -26.715) -> (-19, -26.715)
  line L92 (-7, -26.715) -> (-7, -1.715)
  line L93 (-7, -1.715) -> (-17, -1.715)
  line L94 (-17, -1.715) -> (-17, -26.715)
  line L95 (-17, -26.715) -> (-7, -26.715)
  line L96 (-5, -1.715) -> (-5, -26.715)
  line L97 (-5, -26.715) -> (5, -26.715)
  line L98 (5, -26.715) -> (5, -1.715)
  line L99 (5, -1.715) -> (-5, -1.715)
  line L100 (-17, 26.5173) -> (-17, 1.5173)
  line L101 (-17, 1.5173) -> (-7, 1.5173)
  line L102 (-7, 1.5173) -> (-7, 26.5173)
  line L103 (-7, 26.5173) -> (-17, 26.5173)
  line L104 (-29, 26.5173) -> (-29, 1.5173)
  line L105 (-29, 1.5173) -> (-19, 1.5173)
  line L106 (-19, 1.5173) -> (-19, 26.5173)
  line L107 (-19, 26.5173) -> (-29, 26.5173)
  line L108 (-41, 26.5173) -> (-41, 1.5173)
  line L109 (-41, 1.5173) -> (-31, 1.5173)
  line L110 (-31, 1.5173) -> (-31, 26.5173)
  line L111 (-31, 26.5173) -> (-41, 26.5173)
  line L112 (-53, 26.5173) -> (-53, 1.5173)
  line L113 (-53, 1.5173) -> (-43, 1.5173)
  line L114 (-43, 1.5173) -> (-43, 26.5173)
  line L115 (-43, 26.5173) -> (-53, 26.5173)
  line L116 (-53, 53.6136) -> (-53, 28.6136)
  line L117 (-53, 28.6136) -> (-43, 28.6136)
  line L118 (-43, 28.6136) -> (-43, 53.6136)
  line L119 (-43, 53.6136) -> (-53, 53.6136)
  line L120 (-29, 53.6136) -> (-29, 28.6136)
  line L121 (-29, 28.6136) -> (-19, 28.6136)
  line L122 (-19, 28.6136) -> (-19, 53.6136)
  line L123 (-19, 53.6136) -> (-29, 53.6136)
  line L124 (-31, 28.6136) -> (-31, 53.6136)
  line L125 (-31, 53.6136) -> (-41, 53.6136)
  line L126 (-41, 53.6136) -> (-41, 28.6136)
  line L127 (-41, 28.6136) -> (-31, 28.6136)
  line L128 (-17, 53.6136) -> (-17, 28.6136)
  line L129 (-17, 28.6136) -> (-7, 28.6136)
  line L130 (-7, 28.6136) -> (-7, 53.6136)
  line L131 (-7, 53.6136) -> (-17, 53.6136)
  line L132 (-5, 53.6136) -> (-5, 28.6136)
  line L133 (-5, 28.6136) -> (5, 28.6136)
  line L134 (5, 28.6136) -> (5, 53.6136)
  line L135 (5, 53.6136) -> (-5, 53.6136)
  line L136 (-5, 26.5173) -> (-5, 1.5173)
  line L137 (-5, 1.5173) -> (5, 1.5173)
  line L138 (5, 1.5173) -> (5, 26.5173)
  line L139 (5, 26.5173) -> (-5, 26.5173)
  line L140 (7, 26.5173) -> (7, 1.5173)
  line L141 (7, 1.5173) -> (17, 1.5173)
  line L142 (17, 1.5173) -> (17, 26.5173)
  line L143 (17, 26.5173) -> (7, 26.5173)
extrude "Wyciągnięcie_3" add sketch "Sketch2" along normal blind 0.0001
sketch "Sketch3" plane through (0, 0, 0) normal (0, 0, -1) x (0, -1, 0)
  circle A0 centre (5, 0) radius 1.75
  circle A1 centre (-5, 0) radius 1.75
  line L0 (-3.7686, -9.2136) -> (-6.2314, -9.2136)
  arc A2 (-3.7686, -9.2136) -> (-6.2314, -9.2136) centre (-5, -8.9296) cw
  circle A3 centre (-5, -8.9296) radius 1.75
  line L1 (-3.7686, -8.6456) -> (-6.2314, -8.6456)
  arc A4 (-6.2314, -8.6456) -> (-3.7686, -8.6456) centre (-5, -8.9296) cw
  line L2 (4.716, -9.2136) -> (3.7686, -9.2136)
  line L3 (4.716, -10.1611) -> (4.716, -9.2136)
  arc A5 (4.716, -10.161) -> (3.7686, -9.2136) centre (5, -8.9296) cw
  line L4 (4.716, -8.6456) -> (3.7686, -8.6456)
  arc A6 (3.7686, -8.6456) -> (4.716, -7.6982) centre (5, -8.9296) cw
  line L5 (4.716, -8.6456) -> (4.716, -7.6982)
  line L6 (6.2314, -8.6456) -> (5.284, -8.6456)
  line L7 (5.284, -8.6456) -> (5.284, -7.6982)
  arc A7 (5.284, -7.6982) -> (6.2314, -8.6456) centre (5, -8.9296) cw
  line L8 (6.2314, -9.2136) -> (5.284, -9.2136)
  line L9 (5.284, -10.1611) -> (5.284, -9.2136)
  arc A8 (6.2314, -9.2136) -> (5.284, -10.1611) centre (5, -8.9296) cw
  circle A9 centre (5, -8.9296) radius 1.75
extrude "Wyciągnięcie_4" add sketch "Sketch3" along normal blind 0.01
